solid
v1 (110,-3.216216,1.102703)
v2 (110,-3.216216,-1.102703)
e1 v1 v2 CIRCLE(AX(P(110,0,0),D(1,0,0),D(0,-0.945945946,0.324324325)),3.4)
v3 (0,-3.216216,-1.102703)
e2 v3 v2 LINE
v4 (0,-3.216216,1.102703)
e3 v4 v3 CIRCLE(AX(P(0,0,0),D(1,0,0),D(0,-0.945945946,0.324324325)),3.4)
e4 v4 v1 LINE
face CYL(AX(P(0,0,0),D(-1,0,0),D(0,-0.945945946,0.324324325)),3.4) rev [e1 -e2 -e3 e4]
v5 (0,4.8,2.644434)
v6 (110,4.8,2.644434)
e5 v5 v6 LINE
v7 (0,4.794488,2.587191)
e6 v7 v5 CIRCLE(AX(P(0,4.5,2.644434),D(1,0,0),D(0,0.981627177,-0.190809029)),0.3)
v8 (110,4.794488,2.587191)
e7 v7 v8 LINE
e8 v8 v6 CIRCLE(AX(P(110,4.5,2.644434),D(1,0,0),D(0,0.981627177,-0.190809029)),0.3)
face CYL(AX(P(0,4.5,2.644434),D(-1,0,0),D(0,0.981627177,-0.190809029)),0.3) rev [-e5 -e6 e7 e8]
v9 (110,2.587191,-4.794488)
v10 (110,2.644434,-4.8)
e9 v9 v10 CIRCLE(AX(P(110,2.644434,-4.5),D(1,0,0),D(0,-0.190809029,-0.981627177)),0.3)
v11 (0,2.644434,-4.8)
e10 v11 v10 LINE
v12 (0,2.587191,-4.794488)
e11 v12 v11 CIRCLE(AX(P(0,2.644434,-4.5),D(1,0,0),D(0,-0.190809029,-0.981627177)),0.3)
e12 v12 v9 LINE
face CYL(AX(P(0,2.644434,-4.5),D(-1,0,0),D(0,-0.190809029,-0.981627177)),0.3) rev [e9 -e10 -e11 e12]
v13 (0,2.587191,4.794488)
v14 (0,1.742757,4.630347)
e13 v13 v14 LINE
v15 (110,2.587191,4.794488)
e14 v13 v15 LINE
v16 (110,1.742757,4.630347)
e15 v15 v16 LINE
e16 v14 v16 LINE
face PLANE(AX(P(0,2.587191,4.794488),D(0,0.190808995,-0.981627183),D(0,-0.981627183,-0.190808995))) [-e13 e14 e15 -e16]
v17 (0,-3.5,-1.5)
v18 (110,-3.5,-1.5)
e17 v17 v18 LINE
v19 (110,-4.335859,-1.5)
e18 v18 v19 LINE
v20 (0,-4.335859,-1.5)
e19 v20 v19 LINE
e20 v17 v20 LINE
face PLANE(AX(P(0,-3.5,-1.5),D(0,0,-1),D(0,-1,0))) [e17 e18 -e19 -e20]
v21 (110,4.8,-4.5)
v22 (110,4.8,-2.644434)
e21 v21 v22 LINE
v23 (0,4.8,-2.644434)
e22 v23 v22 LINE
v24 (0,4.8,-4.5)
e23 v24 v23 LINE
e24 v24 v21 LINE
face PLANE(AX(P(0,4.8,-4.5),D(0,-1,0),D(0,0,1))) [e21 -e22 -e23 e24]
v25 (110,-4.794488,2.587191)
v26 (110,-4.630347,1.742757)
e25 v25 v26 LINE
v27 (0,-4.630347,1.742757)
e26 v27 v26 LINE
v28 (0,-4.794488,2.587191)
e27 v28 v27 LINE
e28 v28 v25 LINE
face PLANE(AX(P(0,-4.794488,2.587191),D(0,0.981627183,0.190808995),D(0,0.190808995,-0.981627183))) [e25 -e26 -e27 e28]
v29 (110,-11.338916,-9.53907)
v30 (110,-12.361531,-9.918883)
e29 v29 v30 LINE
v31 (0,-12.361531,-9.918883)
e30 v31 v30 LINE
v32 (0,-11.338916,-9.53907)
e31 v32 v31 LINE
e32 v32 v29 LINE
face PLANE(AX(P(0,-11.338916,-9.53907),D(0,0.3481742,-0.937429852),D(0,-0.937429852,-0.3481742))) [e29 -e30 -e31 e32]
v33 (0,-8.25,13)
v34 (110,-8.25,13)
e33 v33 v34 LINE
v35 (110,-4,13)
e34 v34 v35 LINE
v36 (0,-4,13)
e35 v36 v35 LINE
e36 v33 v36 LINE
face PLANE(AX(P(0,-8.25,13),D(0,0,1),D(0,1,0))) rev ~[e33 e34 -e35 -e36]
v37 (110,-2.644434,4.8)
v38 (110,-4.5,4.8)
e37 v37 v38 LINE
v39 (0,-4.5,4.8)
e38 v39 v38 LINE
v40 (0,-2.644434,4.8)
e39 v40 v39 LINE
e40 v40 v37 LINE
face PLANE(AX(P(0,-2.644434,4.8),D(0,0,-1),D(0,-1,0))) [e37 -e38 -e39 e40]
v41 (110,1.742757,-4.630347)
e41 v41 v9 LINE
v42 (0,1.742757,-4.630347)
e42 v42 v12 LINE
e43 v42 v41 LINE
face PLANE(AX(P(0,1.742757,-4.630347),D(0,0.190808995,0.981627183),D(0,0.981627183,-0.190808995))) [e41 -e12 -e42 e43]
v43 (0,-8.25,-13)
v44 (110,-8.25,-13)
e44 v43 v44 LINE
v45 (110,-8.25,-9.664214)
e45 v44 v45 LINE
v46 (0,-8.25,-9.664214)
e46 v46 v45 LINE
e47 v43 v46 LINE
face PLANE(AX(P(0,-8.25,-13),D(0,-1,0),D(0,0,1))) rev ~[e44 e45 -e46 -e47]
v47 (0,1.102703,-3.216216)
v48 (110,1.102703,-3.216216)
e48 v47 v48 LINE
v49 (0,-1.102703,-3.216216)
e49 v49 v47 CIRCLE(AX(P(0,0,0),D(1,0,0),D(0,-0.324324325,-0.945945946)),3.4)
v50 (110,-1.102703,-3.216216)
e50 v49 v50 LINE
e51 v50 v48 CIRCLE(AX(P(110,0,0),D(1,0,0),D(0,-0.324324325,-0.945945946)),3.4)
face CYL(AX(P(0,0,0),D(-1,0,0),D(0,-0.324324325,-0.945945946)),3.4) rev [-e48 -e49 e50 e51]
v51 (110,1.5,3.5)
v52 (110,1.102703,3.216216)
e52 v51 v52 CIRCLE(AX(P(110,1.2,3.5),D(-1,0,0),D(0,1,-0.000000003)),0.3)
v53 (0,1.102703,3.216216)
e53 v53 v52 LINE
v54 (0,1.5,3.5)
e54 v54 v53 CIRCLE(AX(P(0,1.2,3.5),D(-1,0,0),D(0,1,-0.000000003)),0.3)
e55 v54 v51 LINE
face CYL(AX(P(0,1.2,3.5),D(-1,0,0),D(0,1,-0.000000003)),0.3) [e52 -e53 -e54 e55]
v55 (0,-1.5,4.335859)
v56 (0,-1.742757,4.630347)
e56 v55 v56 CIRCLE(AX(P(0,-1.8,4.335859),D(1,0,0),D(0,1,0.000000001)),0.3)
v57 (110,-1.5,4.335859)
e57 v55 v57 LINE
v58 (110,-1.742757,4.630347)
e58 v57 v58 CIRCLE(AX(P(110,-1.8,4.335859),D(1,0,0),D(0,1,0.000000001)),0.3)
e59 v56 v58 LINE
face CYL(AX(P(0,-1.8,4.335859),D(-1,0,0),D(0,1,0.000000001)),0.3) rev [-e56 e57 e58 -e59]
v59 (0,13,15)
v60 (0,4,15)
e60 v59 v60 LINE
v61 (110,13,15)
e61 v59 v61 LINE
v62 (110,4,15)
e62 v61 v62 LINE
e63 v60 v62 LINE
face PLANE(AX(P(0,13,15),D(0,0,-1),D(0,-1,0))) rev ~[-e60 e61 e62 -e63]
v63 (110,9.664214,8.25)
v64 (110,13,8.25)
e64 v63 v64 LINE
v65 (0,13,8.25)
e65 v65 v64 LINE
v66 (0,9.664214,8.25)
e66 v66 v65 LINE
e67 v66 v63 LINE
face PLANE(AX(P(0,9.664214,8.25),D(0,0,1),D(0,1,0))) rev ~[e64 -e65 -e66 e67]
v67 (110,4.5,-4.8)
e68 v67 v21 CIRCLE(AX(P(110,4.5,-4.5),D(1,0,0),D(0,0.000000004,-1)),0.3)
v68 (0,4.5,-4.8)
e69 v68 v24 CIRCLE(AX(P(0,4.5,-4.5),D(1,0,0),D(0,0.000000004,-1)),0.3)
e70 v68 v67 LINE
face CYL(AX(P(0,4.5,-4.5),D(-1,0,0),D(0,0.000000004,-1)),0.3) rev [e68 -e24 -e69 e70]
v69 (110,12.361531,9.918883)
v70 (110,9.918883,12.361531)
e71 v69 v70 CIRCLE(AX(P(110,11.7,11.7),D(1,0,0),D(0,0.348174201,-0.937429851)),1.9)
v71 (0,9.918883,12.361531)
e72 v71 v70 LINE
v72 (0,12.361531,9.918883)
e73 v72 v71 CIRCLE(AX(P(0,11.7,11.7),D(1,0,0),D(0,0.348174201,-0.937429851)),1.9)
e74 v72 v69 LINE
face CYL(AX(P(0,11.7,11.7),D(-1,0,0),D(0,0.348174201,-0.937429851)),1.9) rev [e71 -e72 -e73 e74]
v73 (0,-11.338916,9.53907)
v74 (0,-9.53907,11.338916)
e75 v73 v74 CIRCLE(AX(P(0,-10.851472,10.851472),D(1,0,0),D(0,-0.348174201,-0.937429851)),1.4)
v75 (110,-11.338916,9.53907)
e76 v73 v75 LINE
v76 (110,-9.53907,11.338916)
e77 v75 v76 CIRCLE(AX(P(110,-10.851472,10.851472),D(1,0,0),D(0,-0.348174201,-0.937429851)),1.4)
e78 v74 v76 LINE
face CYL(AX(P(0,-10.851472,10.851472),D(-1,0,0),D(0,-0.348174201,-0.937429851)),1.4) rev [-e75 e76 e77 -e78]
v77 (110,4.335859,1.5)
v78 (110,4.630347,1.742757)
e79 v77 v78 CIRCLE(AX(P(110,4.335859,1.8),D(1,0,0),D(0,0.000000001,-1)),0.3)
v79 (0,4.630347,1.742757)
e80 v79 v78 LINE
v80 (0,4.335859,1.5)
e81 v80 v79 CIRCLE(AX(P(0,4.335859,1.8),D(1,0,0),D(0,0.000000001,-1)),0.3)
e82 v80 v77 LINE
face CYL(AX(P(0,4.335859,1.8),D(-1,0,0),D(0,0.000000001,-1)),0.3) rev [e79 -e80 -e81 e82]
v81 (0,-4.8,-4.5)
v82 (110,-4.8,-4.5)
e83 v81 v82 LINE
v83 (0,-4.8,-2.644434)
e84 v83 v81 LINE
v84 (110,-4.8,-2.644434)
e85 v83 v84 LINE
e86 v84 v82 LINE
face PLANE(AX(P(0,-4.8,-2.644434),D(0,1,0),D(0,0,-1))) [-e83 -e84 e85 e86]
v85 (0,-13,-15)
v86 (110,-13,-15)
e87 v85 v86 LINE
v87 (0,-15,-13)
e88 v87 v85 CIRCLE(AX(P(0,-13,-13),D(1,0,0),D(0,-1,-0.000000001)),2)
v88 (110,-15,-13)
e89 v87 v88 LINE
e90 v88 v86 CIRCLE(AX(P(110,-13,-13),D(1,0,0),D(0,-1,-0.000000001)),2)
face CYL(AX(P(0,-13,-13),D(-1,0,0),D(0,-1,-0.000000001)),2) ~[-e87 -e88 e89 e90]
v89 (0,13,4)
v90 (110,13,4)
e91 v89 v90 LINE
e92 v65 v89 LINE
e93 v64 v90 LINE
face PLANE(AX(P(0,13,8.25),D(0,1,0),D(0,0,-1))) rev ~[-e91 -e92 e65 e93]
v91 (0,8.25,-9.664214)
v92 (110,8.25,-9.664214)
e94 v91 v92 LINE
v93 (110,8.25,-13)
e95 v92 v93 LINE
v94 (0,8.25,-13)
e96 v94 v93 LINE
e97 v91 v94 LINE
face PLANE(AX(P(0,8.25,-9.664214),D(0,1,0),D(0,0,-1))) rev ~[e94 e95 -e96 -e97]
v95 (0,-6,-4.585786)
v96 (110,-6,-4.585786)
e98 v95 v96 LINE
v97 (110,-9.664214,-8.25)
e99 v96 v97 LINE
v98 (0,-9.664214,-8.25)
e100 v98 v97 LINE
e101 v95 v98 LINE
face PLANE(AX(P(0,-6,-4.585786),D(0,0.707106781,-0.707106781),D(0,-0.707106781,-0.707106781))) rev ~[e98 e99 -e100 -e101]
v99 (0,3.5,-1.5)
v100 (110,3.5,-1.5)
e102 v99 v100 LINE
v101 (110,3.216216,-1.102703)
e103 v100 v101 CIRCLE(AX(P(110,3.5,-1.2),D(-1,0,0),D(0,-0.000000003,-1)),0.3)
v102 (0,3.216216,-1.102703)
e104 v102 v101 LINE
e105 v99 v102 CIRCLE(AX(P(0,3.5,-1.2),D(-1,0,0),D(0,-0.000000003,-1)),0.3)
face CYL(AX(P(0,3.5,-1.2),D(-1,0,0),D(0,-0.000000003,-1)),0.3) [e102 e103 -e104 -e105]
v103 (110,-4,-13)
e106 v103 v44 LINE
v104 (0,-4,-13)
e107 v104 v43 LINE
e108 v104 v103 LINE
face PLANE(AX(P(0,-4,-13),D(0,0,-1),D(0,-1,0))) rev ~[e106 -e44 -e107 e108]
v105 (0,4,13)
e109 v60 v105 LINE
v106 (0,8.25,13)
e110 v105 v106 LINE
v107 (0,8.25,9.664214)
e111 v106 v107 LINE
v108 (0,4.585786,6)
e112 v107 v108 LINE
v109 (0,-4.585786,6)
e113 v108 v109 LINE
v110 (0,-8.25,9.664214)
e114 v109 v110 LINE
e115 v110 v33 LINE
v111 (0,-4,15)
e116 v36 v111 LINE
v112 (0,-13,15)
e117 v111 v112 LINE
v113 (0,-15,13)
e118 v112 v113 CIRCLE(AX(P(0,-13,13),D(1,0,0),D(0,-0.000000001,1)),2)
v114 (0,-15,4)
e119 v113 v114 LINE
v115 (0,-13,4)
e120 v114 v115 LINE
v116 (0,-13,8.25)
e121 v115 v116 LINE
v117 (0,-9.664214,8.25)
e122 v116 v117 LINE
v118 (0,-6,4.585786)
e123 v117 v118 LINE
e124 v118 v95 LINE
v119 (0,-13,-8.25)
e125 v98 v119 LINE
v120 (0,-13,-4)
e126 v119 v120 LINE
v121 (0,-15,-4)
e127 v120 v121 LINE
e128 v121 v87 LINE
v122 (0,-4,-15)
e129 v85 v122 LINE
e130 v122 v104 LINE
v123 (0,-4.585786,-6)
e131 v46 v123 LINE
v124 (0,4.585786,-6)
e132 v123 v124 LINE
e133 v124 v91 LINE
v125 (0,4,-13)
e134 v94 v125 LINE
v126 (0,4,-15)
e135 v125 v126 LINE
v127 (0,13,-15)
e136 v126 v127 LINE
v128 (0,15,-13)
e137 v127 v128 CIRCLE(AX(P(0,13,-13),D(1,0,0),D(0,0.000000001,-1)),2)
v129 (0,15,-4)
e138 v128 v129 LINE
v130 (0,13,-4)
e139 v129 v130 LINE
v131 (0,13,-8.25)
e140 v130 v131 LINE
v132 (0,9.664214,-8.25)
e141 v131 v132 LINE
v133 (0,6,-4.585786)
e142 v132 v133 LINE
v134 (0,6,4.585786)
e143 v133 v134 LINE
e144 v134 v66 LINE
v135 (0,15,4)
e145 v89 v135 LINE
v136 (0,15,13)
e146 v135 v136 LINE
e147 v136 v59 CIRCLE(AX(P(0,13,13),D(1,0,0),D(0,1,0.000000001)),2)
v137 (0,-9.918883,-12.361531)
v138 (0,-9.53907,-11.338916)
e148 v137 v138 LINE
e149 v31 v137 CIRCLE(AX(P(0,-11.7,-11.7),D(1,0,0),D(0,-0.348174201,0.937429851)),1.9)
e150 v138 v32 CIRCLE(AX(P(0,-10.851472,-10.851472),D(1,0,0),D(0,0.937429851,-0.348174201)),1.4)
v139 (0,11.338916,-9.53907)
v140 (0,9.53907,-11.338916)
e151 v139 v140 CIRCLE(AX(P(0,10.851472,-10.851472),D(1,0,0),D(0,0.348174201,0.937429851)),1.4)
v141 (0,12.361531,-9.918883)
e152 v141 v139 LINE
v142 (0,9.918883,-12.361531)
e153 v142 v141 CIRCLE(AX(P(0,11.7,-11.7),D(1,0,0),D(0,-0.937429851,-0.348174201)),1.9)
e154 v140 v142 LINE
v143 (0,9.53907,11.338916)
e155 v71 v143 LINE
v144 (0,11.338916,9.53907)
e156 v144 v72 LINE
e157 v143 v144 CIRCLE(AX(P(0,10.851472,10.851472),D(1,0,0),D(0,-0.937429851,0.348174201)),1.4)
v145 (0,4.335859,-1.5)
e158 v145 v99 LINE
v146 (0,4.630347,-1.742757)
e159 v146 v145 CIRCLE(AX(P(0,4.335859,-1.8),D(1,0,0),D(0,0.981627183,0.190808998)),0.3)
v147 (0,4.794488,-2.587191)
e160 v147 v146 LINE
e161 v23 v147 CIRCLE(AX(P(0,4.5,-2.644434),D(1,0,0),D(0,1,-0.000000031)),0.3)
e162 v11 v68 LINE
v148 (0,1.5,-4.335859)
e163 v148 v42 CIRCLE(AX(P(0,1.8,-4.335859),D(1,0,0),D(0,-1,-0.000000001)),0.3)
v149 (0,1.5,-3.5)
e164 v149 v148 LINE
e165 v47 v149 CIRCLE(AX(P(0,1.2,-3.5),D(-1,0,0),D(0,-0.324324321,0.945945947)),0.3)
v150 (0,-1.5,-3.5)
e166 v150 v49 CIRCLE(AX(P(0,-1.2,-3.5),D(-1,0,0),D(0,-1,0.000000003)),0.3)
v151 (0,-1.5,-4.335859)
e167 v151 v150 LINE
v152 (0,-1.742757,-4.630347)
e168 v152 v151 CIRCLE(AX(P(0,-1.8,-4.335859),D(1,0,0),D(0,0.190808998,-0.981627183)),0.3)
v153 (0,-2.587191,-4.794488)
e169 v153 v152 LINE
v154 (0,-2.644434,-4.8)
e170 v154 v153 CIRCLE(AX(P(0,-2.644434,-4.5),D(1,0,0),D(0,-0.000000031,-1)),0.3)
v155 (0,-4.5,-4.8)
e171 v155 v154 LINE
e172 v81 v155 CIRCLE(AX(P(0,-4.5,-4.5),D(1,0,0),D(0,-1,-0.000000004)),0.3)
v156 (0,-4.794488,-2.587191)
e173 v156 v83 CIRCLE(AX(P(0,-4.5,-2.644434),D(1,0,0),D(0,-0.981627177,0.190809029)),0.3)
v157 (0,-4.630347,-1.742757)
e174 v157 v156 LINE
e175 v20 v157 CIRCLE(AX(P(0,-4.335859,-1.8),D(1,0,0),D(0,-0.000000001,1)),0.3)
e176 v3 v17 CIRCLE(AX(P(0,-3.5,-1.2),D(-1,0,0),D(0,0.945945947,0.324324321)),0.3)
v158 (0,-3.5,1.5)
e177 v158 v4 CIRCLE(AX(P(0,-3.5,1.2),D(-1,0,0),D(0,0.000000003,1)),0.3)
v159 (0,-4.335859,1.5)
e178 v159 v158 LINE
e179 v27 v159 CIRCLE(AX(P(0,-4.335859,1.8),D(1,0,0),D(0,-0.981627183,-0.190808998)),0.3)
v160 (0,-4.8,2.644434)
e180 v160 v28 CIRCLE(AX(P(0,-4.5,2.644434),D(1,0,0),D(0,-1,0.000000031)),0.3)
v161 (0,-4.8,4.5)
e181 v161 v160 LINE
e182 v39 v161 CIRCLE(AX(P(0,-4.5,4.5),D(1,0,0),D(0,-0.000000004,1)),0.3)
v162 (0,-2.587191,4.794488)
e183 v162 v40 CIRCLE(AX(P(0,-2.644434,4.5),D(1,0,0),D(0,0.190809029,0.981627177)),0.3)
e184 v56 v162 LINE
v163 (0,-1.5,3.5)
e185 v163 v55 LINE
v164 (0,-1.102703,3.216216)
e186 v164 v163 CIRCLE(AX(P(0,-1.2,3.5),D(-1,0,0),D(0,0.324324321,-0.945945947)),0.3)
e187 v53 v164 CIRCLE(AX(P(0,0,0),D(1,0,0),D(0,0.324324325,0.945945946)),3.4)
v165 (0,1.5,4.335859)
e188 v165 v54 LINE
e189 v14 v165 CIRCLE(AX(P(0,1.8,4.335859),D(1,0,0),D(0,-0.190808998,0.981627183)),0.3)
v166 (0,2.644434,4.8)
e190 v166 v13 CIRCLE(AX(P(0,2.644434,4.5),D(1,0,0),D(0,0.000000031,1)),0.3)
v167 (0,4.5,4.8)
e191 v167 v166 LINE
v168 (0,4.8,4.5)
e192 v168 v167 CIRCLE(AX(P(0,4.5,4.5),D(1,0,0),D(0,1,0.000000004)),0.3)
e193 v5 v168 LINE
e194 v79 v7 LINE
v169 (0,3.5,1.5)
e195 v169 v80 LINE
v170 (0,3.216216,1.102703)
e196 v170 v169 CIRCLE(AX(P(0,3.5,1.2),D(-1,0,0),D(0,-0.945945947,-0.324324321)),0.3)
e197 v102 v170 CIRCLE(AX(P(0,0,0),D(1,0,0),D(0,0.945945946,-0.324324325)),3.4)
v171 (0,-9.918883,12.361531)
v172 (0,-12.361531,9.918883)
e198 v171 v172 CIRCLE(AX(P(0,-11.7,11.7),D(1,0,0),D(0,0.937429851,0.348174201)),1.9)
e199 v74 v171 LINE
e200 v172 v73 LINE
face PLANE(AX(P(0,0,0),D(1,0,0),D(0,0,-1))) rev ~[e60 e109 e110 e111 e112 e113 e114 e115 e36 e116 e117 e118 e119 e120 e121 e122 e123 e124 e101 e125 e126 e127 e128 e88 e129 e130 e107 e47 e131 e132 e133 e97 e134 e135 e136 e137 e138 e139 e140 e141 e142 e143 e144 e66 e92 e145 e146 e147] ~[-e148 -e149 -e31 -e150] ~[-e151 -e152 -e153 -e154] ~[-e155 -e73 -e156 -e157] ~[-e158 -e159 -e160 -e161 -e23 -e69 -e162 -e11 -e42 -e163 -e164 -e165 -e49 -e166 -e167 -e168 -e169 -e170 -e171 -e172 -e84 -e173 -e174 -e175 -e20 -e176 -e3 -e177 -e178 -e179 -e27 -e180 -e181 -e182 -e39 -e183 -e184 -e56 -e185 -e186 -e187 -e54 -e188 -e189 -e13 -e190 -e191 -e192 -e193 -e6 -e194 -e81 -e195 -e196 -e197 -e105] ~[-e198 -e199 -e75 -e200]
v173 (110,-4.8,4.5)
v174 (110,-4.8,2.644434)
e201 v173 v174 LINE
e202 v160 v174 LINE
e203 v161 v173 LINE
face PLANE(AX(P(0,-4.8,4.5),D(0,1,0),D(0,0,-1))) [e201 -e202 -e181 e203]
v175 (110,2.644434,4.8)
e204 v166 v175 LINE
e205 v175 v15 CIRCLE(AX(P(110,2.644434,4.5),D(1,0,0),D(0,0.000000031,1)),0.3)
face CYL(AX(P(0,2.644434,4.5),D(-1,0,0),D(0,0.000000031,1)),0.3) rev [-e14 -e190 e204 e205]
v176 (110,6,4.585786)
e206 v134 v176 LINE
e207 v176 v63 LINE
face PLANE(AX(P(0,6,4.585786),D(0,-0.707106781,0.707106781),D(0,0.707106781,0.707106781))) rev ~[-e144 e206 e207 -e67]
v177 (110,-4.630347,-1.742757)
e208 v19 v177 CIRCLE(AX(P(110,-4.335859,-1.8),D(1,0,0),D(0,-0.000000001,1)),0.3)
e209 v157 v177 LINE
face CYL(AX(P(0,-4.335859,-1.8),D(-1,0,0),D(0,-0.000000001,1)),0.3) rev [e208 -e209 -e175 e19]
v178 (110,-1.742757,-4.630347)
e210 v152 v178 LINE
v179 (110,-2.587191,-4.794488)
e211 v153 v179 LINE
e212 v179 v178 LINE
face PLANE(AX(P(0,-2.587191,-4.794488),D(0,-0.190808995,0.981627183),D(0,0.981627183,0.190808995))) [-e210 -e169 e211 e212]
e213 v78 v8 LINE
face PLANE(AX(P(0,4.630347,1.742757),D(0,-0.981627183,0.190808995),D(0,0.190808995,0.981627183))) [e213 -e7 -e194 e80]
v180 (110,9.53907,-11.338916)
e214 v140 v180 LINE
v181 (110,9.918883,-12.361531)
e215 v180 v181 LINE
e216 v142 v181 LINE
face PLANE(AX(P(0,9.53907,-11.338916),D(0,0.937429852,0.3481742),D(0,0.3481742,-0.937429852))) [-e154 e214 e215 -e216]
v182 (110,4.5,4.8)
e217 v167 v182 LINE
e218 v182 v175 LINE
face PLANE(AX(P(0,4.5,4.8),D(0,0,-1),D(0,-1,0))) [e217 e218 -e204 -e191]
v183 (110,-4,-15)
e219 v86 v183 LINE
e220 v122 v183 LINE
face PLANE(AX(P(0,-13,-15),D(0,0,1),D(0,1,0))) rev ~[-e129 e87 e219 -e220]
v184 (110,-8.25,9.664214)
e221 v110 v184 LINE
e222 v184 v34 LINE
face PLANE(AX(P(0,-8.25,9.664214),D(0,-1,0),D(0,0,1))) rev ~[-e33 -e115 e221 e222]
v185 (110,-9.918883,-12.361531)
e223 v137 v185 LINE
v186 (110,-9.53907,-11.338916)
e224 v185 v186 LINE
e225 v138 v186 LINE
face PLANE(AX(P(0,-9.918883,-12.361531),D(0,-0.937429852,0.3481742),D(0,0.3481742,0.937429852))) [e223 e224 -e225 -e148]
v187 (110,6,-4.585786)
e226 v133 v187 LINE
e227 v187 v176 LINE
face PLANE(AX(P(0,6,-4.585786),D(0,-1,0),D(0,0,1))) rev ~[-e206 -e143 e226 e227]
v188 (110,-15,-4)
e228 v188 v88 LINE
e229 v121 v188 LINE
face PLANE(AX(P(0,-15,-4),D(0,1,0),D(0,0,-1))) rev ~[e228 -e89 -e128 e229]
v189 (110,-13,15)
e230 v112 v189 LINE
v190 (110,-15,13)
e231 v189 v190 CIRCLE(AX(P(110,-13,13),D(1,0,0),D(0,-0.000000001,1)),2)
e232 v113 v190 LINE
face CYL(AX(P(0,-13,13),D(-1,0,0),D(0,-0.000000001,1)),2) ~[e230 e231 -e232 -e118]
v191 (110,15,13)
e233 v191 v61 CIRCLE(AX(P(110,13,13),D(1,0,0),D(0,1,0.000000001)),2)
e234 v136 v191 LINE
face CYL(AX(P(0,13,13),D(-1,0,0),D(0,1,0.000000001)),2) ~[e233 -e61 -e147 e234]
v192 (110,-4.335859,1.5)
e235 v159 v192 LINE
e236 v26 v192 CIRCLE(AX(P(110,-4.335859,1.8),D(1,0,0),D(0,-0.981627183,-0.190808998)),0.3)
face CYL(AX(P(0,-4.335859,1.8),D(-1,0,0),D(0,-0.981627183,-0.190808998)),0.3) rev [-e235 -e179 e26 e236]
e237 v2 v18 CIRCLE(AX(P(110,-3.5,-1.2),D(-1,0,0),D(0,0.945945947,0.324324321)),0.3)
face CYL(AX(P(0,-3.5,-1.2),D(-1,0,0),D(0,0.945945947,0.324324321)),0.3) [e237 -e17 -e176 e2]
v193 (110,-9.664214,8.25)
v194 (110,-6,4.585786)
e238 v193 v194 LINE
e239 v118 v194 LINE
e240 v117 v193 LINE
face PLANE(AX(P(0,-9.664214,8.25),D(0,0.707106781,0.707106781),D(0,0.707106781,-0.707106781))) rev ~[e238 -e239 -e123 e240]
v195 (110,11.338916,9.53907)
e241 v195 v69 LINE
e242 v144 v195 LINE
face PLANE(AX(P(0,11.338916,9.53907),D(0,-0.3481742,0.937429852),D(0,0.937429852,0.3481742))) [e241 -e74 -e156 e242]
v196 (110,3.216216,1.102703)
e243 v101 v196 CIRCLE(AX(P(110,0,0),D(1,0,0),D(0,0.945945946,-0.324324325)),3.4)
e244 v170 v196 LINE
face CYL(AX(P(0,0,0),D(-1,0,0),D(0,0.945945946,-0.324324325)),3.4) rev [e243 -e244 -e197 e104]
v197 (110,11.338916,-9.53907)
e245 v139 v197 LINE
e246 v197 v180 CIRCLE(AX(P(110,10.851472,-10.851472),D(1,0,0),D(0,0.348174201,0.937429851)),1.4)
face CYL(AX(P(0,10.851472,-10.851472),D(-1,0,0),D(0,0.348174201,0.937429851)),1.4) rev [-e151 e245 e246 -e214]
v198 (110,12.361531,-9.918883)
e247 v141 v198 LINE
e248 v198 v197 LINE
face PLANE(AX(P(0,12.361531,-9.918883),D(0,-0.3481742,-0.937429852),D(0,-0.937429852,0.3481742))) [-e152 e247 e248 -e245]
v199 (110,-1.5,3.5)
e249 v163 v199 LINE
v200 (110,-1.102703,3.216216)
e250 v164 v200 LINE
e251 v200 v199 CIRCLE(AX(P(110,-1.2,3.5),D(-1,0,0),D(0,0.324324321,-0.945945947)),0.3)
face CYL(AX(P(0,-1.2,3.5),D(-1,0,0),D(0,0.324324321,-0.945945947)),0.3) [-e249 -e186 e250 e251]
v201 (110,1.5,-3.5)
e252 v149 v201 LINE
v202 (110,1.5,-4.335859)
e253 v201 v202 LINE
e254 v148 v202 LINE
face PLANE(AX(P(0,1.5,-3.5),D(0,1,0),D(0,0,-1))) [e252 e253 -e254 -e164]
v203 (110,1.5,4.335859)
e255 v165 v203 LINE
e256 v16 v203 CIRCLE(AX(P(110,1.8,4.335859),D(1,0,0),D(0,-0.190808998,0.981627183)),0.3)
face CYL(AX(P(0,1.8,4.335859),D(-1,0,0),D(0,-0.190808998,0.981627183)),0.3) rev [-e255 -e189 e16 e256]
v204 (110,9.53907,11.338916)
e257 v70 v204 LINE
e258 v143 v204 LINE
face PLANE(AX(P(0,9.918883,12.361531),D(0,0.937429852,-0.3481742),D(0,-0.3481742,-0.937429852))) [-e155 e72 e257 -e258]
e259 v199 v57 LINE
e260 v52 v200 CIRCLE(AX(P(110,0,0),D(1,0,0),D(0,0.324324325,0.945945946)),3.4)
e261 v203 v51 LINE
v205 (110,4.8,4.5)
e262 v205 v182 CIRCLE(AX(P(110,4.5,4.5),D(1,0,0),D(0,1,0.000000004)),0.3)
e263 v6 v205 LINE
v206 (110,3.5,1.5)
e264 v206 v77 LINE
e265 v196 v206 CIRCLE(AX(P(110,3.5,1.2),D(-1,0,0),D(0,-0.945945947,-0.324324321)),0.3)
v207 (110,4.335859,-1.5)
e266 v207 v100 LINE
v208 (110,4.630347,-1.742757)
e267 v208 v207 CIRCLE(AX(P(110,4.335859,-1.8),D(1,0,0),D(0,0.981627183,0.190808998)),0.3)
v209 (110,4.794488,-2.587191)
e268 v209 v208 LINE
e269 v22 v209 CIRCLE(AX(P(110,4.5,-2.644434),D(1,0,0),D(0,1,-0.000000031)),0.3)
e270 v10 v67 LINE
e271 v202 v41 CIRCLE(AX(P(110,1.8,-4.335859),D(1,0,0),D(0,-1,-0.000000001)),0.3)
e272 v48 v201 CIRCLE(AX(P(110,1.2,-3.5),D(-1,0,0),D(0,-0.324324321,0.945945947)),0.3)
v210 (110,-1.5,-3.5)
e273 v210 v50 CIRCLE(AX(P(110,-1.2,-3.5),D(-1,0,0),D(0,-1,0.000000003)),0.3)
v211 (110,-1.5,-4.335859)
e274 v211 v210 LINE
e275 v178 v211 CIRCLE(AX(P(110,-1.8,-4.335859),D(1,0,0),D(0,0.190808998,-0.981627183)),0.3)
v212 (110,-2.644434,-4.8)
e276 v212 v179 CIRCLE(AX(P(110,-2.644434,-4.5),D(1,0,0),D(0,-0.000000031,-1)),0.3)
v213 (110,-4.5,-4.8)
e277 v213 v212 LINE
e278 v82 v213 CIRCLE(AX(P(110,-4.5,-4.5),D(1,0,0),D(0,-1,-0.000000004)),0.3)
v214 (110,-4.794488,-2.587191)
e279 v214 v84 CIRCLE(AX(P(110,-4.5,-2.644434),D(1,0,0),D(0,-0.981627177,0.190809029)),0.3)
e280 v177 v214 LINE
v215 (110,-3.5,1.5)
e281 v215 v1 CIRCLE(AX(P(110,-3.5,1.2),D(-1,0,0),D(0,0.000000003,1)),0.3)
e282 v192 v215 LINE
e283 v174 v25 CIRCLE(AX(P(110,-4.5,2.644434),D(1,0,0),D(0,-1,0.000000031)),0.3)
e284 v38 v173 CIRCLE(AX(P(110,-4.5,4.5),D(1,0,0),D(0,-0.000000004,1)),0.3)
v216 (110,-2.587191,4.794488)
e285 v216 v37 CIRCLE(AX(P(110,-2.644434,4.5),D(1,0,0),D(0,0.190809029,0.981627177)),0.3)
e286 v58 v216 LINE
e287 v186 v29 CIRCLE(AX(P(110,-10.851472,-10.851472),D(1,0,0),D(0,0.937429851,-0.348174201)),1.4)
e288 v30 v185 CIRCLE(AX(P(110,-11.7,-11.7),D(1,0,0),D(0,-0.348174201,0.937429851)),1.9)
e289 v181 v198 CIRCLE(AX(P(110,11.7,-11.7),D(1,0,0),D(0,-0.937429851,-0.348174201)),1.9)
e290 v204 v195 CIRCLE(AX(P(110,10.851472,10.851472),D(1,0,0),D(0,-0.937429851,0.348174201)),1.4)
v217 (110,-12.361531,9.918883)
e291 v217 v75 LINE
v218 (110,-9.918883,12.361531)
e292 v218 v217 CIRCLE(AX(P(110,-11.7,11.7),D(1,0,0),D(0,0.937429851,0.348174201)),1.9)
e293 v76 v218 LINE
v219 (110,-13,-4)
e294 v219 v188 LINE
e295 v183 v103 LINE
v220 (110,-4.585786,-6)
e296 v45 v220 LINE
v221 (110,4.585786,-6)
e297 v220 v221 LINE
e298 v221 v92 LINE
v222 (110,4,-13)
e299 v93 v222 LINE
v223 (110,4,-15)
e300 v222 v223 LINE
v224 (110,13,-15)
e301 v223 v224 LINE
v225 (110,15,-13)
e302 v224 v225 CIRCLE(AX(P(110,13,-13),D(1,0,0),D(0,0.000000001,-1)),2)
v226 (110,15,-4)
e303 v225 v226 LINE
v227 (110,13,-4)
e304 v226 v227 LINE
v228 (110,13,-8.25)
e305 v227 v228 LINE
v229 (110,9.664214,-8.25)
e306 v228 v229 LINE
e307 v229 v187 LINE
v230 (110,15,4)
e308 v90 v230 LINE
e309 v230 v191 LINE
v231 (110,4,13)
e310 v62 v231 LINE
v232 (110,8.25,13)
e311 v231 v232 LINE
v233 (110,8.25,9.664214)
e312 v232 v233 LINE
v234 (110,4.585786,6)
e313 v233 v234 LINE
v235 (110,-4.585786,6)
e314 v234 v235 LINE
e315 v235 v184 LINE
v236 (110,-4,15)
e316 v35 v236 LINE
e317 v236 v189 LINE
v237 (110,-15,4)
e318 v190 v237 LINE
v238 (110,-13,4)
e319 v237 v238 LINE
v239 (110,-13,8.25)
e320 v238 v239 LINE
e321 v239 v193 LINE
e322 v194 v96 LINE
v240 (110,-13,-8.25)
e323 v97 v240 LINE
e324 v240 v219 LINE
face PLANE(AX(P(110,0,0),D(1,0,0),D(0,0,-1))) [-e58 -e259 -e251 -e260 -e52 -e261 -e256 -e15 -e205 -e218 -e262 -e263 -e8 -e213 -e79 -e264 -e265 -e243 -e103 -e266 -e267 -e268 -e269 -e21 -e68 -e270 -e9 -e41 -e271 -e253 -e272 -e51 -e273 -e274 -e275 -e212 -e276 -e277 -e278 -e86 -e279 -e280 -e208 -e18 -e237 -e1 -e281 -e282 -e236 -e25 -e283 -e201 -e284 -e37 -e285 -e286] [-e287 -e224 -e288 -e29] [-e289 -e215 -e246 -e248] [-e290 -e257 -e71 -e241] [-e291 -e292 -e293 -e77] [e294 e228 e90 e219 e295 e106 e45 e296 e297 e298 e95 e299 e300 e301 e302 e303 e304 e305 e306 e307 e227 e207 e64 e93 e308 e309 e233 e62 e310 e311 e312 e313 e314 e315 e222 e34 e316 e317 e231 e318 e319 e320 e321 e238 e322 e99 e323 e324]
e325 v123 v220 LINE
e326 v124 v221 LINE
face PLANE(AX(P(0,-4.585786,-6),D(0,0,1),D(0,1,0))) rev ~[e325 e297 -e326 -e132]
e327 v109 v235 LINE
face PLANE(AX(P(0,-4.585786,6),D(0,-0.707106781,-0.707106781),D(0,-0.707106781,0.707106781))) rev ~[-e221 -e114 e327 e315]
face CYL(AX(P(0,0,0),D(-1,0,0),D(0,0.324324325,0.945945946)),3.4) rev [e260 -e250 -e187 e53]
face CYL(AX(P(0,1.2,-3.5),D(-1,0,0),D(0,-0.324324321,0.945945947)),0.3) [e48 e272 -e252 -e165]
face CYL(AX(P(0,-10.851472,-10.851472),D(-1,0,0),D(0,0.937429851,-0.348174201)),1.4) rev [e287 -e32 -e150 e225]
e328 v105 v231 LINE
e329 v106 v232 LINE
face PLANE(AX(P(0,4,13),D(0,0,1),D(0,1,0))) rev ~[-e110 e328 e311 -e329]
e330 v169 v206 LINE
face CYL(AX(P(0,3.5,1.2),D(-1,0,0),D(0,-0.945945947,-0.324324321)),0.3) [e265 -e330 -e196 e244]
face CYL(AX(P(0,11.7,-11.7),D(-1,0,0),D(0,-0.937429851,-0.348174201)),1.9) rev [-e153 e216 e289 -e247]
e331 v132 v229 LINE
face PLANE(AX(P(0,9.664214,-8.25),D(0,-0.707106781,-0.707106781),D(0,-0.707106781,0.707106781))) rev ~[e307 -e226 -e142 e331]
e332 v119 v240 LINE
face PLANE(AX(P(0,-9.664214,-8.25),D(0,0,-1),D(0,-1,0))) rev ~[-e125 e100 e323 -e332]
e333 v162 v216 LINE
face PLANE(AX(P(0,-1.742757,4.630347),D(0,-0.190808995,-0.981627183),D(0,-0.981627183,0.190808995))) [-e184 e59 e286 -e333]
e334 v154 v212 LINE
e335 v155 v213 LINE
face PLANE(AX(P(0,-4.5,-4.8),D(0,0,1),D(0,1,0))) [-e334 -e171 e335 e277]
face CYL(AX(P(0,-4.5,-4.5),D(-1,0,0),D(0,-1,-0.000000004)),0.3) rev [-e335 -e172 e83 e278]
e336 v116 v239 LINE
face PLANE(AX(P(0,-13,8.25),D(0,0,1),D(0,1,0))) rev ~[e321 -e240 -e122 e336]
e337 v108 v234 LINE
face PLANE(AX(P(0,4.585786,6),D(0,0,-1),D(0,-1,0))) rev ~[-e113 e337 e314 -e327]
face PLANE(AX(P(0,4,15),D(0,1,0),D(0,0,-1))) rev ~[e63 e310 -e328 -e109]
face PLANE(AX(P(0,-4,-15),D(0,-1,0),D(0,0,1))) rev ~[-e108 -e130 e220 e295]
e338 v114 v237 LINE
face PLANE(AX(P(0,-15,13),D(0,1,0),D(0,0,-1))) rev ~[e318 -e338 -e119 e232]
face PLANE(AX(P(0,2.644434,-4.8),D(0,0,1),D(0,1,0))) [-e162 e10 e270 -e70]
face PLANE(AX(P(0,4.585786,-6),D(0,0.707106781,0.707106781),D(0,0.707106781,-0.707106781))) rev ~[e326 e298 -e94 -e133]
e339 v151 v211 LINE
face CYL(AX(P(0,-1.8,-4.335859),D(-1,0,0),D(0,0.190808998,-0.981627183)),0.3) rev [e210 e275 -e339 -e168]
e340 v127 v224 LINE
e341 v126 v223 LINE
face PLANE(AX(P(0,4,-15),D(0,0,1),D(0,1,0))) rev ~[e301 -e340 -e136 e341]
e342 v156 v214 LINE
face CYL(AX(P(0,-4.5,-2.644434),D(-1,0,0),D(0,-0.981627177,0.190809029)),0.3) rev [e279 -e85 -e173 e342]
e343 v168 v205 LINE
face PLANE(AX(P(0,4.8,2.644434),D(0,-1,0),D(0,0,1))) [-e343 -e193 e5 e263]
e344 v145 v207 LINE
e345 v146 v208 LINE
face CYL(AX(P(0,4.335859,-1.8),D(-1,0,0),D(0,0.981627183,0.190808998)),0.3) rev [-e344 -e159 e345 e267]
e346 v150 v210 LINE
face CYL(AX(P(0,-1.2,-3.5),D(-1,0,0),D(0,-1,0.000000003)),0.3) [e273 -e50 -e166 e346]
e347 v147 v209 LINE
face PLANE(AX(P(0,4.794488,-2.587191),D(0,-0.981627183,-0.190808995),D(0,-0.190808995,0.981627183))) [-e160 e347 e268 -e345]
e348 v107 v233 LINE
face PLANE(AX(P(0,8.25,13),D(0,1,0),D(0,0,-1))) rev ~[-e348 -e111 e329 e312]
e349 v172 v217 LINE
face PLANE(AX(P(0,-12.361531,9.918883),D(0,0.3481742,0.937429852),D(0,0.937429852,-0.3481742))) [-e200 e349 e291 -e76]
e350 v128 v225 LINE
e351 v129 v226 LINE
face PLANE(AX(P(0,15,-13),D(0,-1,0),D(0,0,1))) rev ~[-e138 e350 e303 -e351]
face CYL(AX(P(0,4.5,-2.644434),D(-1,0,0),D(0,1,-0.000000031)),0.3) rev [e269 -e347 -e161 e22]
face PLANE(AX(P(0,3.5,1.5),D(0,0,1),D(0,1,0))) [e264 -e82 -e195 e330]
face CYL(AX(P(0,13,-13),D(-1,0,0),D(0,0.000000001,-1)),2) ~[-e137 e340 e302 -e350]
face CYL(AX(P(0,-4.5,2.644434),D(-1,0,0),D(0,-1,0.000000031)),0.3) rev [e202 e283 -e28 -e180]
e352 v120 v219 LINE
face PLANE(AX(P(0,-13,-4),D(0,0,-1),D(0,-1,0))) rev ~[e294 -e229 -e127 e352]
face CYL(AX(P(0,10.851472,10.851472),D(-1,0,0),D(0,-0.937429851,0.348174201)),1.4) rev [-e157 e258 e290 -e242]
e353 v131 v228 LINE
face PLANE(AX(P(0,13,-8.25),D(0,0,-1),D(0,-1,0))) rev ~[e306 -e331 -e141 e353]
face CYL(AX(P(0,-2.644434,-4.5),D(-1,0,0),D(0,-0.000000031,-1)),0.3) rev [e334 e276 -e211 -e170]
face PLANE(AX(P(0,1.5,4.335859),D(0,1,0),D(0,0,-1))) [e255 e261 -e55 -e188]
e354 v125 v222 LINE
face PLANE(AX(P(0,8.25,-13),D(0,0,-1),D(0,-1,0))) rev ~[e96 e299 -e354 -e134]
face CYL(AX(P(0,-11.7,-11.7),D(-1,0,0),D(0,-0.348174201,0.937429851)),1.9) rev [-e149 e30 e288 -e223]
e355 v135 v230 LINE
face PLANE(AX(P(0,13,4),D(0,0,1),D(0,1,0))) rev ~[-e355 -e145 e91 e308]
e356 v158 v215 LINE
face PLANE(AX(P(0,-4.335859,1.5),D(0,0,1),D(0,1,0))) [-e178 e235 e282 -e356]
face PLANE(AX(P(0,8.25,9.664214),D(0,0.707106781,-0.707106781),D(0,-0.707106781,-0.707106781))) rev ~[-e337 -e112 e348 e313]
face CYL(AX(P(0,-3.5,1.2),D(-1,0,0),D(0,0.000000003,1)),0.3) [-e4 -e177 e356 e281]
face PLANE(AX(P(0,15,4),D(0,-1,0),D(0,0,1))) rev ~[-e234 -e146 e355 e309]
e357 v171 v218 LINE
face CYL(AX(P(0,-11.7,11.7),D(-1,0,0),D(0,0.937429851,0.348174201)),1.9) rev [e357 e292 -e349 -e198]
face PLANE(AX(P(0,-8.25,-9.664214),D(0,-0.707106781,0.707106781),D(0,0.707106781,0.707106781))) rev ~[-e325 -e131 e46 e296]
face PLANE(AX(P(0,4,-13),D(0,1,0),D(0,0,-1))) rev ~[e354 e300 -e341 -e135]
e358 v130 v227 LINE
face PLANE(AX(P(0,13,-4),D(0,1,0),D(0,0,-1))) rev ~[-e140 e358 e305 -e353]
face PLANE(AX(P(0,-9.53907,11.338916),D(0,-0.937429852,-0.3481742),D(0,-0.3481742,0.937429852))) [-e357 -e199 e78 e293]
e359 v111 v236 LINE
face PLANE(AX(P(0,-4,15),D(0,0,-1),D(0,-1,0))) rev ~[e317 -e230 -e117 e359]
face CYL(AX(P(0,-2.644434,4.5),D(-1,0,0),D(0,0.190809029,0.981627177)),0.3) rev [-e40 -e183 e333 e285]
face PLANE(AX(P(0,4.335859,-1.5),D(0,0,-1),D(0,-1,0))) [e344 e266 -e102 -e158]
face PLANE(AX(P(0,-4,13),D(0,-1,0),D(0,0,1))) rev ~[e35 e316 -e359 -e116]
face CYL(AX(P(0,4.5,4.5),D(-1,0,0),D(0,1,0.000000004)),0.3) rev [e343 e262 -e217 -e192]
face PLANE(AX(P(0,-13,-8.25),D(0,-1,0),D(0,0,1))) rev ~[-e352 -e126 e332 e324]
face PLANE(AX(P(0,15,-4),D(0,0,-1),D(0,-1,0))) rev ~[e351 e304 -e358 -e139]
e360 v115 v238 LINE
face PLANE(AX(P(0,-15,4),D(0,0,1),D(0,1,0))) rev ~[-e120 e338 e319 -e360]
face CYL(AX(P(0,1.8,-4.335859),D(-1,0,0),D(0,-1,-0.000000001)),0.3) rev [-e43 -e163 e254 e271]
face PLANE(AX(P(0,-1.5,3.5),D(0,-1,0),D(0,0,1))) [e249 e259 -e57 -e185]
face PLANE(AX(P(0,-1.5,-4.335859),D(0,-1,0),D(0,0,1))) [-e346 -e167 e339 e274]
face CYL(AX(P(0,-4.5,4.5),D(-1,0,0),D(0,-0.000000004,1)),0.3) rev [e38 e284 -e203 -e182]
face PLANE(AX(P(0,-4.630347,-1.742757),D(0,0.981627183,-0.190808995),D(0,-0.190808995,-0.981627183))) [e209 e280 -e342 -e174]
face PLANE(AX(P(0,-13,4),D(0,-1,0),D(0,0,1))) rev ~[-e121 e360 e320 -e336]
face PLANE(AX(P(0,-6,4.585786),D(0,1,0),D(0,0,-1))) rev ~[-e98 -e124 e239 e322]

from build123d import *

# Parameters (mm, degrees)
BOSS_EXTRUDE1_DEPTH = 110


with BuildPart() as part:
    # Sketch1 → Boss-Extrude1 (new body)
    with BuildSketch(Plane(origin=(0, 0, 0), x_dir=(0, 0, -1), z_dir=(1, 0, 0))):
        with BuildLine():
            Line((-15, 13), (-15, 4))
            Line((-15, 4), (-13, 4))
            Line((-13, 4), (-13, 8.25))
            Line((-13, 8.25), (-9.664213562, 8.25))
            Line((-9.664213562, 8.25), (-6, 4.585786438))
            Line((-6, 4.585786438), (-6, -4.585786438))
            Line((-6, -4.585786438), (-9.664213562, -8.25))
            Line((-9.664213562, -8.25), (-13, -8.25))
            Line((-13, -8.25), (-13, -4))
            Line((-13, -4), (-15, -4))
            Line((-15, -4), (-15, -13))
            ThreePointArc((-15, -13), (-14.414213562, -14.414213562), (-13, -15))
            Line((-13, -15), (-4, -15))
            Line((-4, -15), (-4, -13))
            Line((-4, -13), (-8.25, -13))
            Line((-8.25, -13), (-8.25, -9.664213562))
            Line((-8.25, -9.664213562), (-4.585786438, -6))
            Line((-4.585786438, -6), (4.585786438, -6))
            Line((4.585786438, -6), (8.25, -9.664213562))
            Line((8.25, -9.664213562), (8.25, -13))
            Line((8.25, -13), (4, -13))
            Line((4, -13), (4, -15))
            Line((4, -15), (13, -15))
            ThreePointArc((13, -15), (14.414213562, -14.414213562), (15, -13))
            Line((15, -13), (15, -4))
            Line((15, -4), (13, -4))
            Line((13, -4), (13, -8.25))
            Line((13, -8.25), (9.664213562, -8.25))
            Line((9.664213562, -8.25), (6, -4.585786438))
            Line((6, -4.585786438), (6, 4.585786438))
            Line((6, 4.585786438), (9.664213562, 8.25))
            Line((9.664213562, 8.25), (13, 8.25))
            Line((13, 8.25), (13, 4))
            Line((13, 4), (15, 4))
            Line((15, 4), (15, 13))
            ThreePointArc((15, 13), (14.414213562, 14.414213562), (13, 15))
            Line((13, 15), (4, 15))
            Line((4, 15), (4, 13))
            Line((4, 13), (8.25, 13))
            Line((8.25, 13), (8.25, 9.664213562))
            Line((8.25, 9.664213562), (4.585786438, 6))
            Line((4.585786438, 6), (-4.585786438, 6))
            Line((-4.585786438, 6), (-8.25, 9.664213562))
            Line((-8.25, 9.664213562), (-8.25, 13))
            Line((-8.25, 13), (-4, 13))
            Line((-4, 13), (-4, 15))
            Line((-4, 15), (-13, 15))
            ThreePointArc((-13, 15), (-14.414213562, 14.414213562), (-15, 13))
        make_face()
        with BuildLine():
            Line((-9.539070071, 11.338915743), (-9.918883282, 12.361530981))
            ThreePointArc((-9.918883282, 12.361530981), (-13.043502884, 13.043502884), (-12.361530981, 9.918883282))
            Line((-12.361530981, 9.918883282), (-11.338915743, 9.539070071))
            ThreePointArc((-11.338915743, 9.539070071), (-9.861522369, 9.861522369), (-9.539070071, 11.338915743))
        make_face(mode=Mode.SUBTRACT)
        with BuildLine():
            Line((9.918883282, 12.361530981), (9.539070071, 11.338915743))
            ThreePointArc((9.539070071, 11.338915743), (9.861522369, 9.861522369), (11.338915743, 9.539070071))
            Line((11.338915743, 9.539070071), (12.361530981, 9.918883282))
            ThreePointArc((12.361530981, 9.918883282), (13.043502884, 13.043502884), (9.918883282, 12.361530981))
        make_face(mode=Mode.SUBTRACT)
        with BuildLine():
            Line((12.361530981, -9.918883282), (11.338915743, -9.539070071))
            ThreePointArc((11.338915743, -9.539070071), (9.861522369, -9.861522369), (9.539070071, -11.338915743))
            Line((9.539070071, -11.338915743), (9.918883282, -12.361530981))
            ThreePointArc((9.918883282, -12.361530981), (13.043502884, -13.043502884), (12.361530981, -9.918883282))
        make_face(mode=Mode.SUBTRACT)
        with BuildLine():
            Line((-11.338915743, -9.539070071), (-12.361530981, -9.918883282))
            ThreePointArc((-12.361530981, -9.918883282), (-13.043502884, -13.043502884), (-9.918883282, -12.361530981))
            Line((-9.918883282, -12.361530981), (-9.539070071, -11.338915743))
            ThreePointArc((-9.539070071, -11.338915743), (-9.861522369, -9.861522369), (-11.338915743, -9.539070071))
        make_face(mode=Mode.SUBTRACT)
        with BuildLine():
            Line((-4.8, -2.644433572), (-4.8, -4.5))
            ThreePointArc((-4.8, -4.5), (-4.712132034, -4.712132034), (-4.5, -4.8))
            Line((-4.5, -4.8), (-2.644433572, -4.8))
            ThreePointArc((-2.644433572, -4.8), (-2.615679847, -4.79861886), (-2.587190874, -4.794488155))
            Line((-2.587190874, -4.794488155), (-1.742757301, -4.630346896))
            ThreePointArc((-1.742757301, -4.630346896), (-1.568512625, -4.526682207), (-1.5, -4.335858741))
            Line((-1.5, -4.335858741), (-1.5, -3.5))
            ThreePointArc((-1.5, -3.5), (-1.374371458, -3.255879959), (-1.102702703, -3.216216216))
            ThreePointArc((-1.102702703, -3.216216216), (0, -3.4), (1.102702703, -3.216216216))
            ThreePointArc((1.102702703, -3.216216216), (1.374371458, -3.255879959), (1.5, -3.5))
            Line((1.5, -3.5), (1.5, -4.335858741))
            ThreePointArc((1.5, -4.335858741), (1.568512625, -4.526682207), (1.742757301, -4.630346896))
            Line((1.742757301, -4.630346896), (2.587190874, -4.794488155))
            ThreePointArc((2.587190874, -4.794488155), (2.615679847, -4.79861886), (2.644433572, -4.8))
            Line((2.644433572, -4.8), (4.5, -4.8))
            ThreePointArc((4.5, -4.8), (4.712132034, -4.712132034), (4.8, -4.5))
            Line((4.8, -4.5), (4.8, -2.644433572))
            ThreePointArc((4.8, -2.644433572), (4.79861886, -2.615679847), (4.794488155, -2.587190874))
            Line((4.794488155, -2.587190874), (4.630346896, -1.742757301))
            ThreePointArc((4.630346896, -1.742757301), (4.526682207, -1.568512625), (4.335858741, -1.5))
            Line((4.335858741, -1.5), (3.5, -1.5))
            ThreePointArc((3.5, -1.5), (3.255879959, -1.374371458), (3.216216216, -1.102702703))
            ThreePointArc((3.216216216, -1.102702703), (3.4, 0), (3.216216216, 1.102702703))
            ThreePointArc((3.216216216, 1.102702703), (3.255879959, 1.374371458), (3.5, 1.5))
            Line((3.5, 1.5), (4.335858741, 1.5))
            ThreePointArc((4.335858741, 1.5), (4.526682207, 1.568512625), (4.630346896, 1.742757301))
            Line((4.630346896, 1.742757301), (4.794488155, 2.587190874))
            ThreePointArc((4.794488155, 2.587190874), (4.79861886, 2.615679847), (4.8, 2.644433572))
            Line((4.8, 2.644433572), (4.8, 4.5))
            ThreePointArc((4.8, 4.5), (4.712132034, 4.712132034), (4.5, 4.8))
            Line((4.5, 4.8), (2.644433572, 4.8))
            ThreePointArc((2.644433572, 4.8), (2.615679847, 4.79861886), (2.587190874, 4.794488155))
            Line((2.587190874, 4.794488155), (1.742757301, 4.630346896))
            ThreePointArc((1.742757301, 4.630346896), (1.568512625, 4.526682207), (1.5, 4.335858741))
            Line((1.5, 4.335858741), (1.5, 3.5))
            ThreePointArc((1.5, 3.5), (1.374371458, 3.255879959), (1.102702703, 3.216216216))
            ThreePointArc((1.102702703, 3.216216216), (0, 3.4), (-1.102702703, 3.216216216))
            ThreePointArc((-1.102702703, 3.216216216), (-1.374371458, 3.255879959), (-1.5, 3.5))
            Line((-1.5, 3.5), (-1.5, 4.335858741))
            ThreePointArc((-1.5, 4.335858741), (-1.568512625, 4.526682207), (-1.742757301, 4.630346896))
            Line((-1.742757301, 4.630346896), (-2.587190874, 4.794488155))
            ThreePointArc((-2.587190874, 4.794488155), (-2.615679847, 4.79861886), (-2.644433572, 4.8))
            Line((-2.644433572, 4.8), (-4.5, 4.8))
            ThreePointArc((-4.5, 4.8), (-4.712132034, 4.712132034), (-4.8, 4.5))
            Line((-4.8, 4.5), (-4.8, 2.644433572))
            ThreePointArc((-4.8, 2.644433572), (-4.79861886, 2.615679847), (-4.794488155, 2.587190874))
            Line((-4.794488155, 2.587190874), (-4.630346896, 1.742757301))
            ThreePointArc((-4.630346896, 1.742757301), (-4.526682207, 1.568512625), (-4.335858741, 1.5))
            Line((-4.335858741, 1.5), (-3.5, 1.5))
            ThreePointArc((-3.5, 1.5), (-3.255879959, 1.374371458), (-3.216216216, 1.102702703))
            ThreePointArc((-3.216216216, 1.102702703), (-3.4, 0), (-3.216216216, -1.102702703))
            ThreePointArc((-3.216216216, -1.102702703), (-3.255879959, -1.374371458), (-3.5, -1.5))
            Line((-3.5, -1.5), (-4.335858741, -1.5))
            ThreePointArc((-4.335858741, -1.5), (-4.526682207, -1.568512625), (-4.630346896, -1.742757301))
            Line((-4.630346896, -1.742757301), (-4.794488155, -2.587190874))
            ThreePointArc((-4.794488155, -2.587190874), (-4.79861886, -2.615679847), (-4.8, -2.644433572))
        make_face(mode=Mode.SUBTRACT)
    extrude(amount=BOSS_EXTRUDE1_DEPTH)


solid = part.part
